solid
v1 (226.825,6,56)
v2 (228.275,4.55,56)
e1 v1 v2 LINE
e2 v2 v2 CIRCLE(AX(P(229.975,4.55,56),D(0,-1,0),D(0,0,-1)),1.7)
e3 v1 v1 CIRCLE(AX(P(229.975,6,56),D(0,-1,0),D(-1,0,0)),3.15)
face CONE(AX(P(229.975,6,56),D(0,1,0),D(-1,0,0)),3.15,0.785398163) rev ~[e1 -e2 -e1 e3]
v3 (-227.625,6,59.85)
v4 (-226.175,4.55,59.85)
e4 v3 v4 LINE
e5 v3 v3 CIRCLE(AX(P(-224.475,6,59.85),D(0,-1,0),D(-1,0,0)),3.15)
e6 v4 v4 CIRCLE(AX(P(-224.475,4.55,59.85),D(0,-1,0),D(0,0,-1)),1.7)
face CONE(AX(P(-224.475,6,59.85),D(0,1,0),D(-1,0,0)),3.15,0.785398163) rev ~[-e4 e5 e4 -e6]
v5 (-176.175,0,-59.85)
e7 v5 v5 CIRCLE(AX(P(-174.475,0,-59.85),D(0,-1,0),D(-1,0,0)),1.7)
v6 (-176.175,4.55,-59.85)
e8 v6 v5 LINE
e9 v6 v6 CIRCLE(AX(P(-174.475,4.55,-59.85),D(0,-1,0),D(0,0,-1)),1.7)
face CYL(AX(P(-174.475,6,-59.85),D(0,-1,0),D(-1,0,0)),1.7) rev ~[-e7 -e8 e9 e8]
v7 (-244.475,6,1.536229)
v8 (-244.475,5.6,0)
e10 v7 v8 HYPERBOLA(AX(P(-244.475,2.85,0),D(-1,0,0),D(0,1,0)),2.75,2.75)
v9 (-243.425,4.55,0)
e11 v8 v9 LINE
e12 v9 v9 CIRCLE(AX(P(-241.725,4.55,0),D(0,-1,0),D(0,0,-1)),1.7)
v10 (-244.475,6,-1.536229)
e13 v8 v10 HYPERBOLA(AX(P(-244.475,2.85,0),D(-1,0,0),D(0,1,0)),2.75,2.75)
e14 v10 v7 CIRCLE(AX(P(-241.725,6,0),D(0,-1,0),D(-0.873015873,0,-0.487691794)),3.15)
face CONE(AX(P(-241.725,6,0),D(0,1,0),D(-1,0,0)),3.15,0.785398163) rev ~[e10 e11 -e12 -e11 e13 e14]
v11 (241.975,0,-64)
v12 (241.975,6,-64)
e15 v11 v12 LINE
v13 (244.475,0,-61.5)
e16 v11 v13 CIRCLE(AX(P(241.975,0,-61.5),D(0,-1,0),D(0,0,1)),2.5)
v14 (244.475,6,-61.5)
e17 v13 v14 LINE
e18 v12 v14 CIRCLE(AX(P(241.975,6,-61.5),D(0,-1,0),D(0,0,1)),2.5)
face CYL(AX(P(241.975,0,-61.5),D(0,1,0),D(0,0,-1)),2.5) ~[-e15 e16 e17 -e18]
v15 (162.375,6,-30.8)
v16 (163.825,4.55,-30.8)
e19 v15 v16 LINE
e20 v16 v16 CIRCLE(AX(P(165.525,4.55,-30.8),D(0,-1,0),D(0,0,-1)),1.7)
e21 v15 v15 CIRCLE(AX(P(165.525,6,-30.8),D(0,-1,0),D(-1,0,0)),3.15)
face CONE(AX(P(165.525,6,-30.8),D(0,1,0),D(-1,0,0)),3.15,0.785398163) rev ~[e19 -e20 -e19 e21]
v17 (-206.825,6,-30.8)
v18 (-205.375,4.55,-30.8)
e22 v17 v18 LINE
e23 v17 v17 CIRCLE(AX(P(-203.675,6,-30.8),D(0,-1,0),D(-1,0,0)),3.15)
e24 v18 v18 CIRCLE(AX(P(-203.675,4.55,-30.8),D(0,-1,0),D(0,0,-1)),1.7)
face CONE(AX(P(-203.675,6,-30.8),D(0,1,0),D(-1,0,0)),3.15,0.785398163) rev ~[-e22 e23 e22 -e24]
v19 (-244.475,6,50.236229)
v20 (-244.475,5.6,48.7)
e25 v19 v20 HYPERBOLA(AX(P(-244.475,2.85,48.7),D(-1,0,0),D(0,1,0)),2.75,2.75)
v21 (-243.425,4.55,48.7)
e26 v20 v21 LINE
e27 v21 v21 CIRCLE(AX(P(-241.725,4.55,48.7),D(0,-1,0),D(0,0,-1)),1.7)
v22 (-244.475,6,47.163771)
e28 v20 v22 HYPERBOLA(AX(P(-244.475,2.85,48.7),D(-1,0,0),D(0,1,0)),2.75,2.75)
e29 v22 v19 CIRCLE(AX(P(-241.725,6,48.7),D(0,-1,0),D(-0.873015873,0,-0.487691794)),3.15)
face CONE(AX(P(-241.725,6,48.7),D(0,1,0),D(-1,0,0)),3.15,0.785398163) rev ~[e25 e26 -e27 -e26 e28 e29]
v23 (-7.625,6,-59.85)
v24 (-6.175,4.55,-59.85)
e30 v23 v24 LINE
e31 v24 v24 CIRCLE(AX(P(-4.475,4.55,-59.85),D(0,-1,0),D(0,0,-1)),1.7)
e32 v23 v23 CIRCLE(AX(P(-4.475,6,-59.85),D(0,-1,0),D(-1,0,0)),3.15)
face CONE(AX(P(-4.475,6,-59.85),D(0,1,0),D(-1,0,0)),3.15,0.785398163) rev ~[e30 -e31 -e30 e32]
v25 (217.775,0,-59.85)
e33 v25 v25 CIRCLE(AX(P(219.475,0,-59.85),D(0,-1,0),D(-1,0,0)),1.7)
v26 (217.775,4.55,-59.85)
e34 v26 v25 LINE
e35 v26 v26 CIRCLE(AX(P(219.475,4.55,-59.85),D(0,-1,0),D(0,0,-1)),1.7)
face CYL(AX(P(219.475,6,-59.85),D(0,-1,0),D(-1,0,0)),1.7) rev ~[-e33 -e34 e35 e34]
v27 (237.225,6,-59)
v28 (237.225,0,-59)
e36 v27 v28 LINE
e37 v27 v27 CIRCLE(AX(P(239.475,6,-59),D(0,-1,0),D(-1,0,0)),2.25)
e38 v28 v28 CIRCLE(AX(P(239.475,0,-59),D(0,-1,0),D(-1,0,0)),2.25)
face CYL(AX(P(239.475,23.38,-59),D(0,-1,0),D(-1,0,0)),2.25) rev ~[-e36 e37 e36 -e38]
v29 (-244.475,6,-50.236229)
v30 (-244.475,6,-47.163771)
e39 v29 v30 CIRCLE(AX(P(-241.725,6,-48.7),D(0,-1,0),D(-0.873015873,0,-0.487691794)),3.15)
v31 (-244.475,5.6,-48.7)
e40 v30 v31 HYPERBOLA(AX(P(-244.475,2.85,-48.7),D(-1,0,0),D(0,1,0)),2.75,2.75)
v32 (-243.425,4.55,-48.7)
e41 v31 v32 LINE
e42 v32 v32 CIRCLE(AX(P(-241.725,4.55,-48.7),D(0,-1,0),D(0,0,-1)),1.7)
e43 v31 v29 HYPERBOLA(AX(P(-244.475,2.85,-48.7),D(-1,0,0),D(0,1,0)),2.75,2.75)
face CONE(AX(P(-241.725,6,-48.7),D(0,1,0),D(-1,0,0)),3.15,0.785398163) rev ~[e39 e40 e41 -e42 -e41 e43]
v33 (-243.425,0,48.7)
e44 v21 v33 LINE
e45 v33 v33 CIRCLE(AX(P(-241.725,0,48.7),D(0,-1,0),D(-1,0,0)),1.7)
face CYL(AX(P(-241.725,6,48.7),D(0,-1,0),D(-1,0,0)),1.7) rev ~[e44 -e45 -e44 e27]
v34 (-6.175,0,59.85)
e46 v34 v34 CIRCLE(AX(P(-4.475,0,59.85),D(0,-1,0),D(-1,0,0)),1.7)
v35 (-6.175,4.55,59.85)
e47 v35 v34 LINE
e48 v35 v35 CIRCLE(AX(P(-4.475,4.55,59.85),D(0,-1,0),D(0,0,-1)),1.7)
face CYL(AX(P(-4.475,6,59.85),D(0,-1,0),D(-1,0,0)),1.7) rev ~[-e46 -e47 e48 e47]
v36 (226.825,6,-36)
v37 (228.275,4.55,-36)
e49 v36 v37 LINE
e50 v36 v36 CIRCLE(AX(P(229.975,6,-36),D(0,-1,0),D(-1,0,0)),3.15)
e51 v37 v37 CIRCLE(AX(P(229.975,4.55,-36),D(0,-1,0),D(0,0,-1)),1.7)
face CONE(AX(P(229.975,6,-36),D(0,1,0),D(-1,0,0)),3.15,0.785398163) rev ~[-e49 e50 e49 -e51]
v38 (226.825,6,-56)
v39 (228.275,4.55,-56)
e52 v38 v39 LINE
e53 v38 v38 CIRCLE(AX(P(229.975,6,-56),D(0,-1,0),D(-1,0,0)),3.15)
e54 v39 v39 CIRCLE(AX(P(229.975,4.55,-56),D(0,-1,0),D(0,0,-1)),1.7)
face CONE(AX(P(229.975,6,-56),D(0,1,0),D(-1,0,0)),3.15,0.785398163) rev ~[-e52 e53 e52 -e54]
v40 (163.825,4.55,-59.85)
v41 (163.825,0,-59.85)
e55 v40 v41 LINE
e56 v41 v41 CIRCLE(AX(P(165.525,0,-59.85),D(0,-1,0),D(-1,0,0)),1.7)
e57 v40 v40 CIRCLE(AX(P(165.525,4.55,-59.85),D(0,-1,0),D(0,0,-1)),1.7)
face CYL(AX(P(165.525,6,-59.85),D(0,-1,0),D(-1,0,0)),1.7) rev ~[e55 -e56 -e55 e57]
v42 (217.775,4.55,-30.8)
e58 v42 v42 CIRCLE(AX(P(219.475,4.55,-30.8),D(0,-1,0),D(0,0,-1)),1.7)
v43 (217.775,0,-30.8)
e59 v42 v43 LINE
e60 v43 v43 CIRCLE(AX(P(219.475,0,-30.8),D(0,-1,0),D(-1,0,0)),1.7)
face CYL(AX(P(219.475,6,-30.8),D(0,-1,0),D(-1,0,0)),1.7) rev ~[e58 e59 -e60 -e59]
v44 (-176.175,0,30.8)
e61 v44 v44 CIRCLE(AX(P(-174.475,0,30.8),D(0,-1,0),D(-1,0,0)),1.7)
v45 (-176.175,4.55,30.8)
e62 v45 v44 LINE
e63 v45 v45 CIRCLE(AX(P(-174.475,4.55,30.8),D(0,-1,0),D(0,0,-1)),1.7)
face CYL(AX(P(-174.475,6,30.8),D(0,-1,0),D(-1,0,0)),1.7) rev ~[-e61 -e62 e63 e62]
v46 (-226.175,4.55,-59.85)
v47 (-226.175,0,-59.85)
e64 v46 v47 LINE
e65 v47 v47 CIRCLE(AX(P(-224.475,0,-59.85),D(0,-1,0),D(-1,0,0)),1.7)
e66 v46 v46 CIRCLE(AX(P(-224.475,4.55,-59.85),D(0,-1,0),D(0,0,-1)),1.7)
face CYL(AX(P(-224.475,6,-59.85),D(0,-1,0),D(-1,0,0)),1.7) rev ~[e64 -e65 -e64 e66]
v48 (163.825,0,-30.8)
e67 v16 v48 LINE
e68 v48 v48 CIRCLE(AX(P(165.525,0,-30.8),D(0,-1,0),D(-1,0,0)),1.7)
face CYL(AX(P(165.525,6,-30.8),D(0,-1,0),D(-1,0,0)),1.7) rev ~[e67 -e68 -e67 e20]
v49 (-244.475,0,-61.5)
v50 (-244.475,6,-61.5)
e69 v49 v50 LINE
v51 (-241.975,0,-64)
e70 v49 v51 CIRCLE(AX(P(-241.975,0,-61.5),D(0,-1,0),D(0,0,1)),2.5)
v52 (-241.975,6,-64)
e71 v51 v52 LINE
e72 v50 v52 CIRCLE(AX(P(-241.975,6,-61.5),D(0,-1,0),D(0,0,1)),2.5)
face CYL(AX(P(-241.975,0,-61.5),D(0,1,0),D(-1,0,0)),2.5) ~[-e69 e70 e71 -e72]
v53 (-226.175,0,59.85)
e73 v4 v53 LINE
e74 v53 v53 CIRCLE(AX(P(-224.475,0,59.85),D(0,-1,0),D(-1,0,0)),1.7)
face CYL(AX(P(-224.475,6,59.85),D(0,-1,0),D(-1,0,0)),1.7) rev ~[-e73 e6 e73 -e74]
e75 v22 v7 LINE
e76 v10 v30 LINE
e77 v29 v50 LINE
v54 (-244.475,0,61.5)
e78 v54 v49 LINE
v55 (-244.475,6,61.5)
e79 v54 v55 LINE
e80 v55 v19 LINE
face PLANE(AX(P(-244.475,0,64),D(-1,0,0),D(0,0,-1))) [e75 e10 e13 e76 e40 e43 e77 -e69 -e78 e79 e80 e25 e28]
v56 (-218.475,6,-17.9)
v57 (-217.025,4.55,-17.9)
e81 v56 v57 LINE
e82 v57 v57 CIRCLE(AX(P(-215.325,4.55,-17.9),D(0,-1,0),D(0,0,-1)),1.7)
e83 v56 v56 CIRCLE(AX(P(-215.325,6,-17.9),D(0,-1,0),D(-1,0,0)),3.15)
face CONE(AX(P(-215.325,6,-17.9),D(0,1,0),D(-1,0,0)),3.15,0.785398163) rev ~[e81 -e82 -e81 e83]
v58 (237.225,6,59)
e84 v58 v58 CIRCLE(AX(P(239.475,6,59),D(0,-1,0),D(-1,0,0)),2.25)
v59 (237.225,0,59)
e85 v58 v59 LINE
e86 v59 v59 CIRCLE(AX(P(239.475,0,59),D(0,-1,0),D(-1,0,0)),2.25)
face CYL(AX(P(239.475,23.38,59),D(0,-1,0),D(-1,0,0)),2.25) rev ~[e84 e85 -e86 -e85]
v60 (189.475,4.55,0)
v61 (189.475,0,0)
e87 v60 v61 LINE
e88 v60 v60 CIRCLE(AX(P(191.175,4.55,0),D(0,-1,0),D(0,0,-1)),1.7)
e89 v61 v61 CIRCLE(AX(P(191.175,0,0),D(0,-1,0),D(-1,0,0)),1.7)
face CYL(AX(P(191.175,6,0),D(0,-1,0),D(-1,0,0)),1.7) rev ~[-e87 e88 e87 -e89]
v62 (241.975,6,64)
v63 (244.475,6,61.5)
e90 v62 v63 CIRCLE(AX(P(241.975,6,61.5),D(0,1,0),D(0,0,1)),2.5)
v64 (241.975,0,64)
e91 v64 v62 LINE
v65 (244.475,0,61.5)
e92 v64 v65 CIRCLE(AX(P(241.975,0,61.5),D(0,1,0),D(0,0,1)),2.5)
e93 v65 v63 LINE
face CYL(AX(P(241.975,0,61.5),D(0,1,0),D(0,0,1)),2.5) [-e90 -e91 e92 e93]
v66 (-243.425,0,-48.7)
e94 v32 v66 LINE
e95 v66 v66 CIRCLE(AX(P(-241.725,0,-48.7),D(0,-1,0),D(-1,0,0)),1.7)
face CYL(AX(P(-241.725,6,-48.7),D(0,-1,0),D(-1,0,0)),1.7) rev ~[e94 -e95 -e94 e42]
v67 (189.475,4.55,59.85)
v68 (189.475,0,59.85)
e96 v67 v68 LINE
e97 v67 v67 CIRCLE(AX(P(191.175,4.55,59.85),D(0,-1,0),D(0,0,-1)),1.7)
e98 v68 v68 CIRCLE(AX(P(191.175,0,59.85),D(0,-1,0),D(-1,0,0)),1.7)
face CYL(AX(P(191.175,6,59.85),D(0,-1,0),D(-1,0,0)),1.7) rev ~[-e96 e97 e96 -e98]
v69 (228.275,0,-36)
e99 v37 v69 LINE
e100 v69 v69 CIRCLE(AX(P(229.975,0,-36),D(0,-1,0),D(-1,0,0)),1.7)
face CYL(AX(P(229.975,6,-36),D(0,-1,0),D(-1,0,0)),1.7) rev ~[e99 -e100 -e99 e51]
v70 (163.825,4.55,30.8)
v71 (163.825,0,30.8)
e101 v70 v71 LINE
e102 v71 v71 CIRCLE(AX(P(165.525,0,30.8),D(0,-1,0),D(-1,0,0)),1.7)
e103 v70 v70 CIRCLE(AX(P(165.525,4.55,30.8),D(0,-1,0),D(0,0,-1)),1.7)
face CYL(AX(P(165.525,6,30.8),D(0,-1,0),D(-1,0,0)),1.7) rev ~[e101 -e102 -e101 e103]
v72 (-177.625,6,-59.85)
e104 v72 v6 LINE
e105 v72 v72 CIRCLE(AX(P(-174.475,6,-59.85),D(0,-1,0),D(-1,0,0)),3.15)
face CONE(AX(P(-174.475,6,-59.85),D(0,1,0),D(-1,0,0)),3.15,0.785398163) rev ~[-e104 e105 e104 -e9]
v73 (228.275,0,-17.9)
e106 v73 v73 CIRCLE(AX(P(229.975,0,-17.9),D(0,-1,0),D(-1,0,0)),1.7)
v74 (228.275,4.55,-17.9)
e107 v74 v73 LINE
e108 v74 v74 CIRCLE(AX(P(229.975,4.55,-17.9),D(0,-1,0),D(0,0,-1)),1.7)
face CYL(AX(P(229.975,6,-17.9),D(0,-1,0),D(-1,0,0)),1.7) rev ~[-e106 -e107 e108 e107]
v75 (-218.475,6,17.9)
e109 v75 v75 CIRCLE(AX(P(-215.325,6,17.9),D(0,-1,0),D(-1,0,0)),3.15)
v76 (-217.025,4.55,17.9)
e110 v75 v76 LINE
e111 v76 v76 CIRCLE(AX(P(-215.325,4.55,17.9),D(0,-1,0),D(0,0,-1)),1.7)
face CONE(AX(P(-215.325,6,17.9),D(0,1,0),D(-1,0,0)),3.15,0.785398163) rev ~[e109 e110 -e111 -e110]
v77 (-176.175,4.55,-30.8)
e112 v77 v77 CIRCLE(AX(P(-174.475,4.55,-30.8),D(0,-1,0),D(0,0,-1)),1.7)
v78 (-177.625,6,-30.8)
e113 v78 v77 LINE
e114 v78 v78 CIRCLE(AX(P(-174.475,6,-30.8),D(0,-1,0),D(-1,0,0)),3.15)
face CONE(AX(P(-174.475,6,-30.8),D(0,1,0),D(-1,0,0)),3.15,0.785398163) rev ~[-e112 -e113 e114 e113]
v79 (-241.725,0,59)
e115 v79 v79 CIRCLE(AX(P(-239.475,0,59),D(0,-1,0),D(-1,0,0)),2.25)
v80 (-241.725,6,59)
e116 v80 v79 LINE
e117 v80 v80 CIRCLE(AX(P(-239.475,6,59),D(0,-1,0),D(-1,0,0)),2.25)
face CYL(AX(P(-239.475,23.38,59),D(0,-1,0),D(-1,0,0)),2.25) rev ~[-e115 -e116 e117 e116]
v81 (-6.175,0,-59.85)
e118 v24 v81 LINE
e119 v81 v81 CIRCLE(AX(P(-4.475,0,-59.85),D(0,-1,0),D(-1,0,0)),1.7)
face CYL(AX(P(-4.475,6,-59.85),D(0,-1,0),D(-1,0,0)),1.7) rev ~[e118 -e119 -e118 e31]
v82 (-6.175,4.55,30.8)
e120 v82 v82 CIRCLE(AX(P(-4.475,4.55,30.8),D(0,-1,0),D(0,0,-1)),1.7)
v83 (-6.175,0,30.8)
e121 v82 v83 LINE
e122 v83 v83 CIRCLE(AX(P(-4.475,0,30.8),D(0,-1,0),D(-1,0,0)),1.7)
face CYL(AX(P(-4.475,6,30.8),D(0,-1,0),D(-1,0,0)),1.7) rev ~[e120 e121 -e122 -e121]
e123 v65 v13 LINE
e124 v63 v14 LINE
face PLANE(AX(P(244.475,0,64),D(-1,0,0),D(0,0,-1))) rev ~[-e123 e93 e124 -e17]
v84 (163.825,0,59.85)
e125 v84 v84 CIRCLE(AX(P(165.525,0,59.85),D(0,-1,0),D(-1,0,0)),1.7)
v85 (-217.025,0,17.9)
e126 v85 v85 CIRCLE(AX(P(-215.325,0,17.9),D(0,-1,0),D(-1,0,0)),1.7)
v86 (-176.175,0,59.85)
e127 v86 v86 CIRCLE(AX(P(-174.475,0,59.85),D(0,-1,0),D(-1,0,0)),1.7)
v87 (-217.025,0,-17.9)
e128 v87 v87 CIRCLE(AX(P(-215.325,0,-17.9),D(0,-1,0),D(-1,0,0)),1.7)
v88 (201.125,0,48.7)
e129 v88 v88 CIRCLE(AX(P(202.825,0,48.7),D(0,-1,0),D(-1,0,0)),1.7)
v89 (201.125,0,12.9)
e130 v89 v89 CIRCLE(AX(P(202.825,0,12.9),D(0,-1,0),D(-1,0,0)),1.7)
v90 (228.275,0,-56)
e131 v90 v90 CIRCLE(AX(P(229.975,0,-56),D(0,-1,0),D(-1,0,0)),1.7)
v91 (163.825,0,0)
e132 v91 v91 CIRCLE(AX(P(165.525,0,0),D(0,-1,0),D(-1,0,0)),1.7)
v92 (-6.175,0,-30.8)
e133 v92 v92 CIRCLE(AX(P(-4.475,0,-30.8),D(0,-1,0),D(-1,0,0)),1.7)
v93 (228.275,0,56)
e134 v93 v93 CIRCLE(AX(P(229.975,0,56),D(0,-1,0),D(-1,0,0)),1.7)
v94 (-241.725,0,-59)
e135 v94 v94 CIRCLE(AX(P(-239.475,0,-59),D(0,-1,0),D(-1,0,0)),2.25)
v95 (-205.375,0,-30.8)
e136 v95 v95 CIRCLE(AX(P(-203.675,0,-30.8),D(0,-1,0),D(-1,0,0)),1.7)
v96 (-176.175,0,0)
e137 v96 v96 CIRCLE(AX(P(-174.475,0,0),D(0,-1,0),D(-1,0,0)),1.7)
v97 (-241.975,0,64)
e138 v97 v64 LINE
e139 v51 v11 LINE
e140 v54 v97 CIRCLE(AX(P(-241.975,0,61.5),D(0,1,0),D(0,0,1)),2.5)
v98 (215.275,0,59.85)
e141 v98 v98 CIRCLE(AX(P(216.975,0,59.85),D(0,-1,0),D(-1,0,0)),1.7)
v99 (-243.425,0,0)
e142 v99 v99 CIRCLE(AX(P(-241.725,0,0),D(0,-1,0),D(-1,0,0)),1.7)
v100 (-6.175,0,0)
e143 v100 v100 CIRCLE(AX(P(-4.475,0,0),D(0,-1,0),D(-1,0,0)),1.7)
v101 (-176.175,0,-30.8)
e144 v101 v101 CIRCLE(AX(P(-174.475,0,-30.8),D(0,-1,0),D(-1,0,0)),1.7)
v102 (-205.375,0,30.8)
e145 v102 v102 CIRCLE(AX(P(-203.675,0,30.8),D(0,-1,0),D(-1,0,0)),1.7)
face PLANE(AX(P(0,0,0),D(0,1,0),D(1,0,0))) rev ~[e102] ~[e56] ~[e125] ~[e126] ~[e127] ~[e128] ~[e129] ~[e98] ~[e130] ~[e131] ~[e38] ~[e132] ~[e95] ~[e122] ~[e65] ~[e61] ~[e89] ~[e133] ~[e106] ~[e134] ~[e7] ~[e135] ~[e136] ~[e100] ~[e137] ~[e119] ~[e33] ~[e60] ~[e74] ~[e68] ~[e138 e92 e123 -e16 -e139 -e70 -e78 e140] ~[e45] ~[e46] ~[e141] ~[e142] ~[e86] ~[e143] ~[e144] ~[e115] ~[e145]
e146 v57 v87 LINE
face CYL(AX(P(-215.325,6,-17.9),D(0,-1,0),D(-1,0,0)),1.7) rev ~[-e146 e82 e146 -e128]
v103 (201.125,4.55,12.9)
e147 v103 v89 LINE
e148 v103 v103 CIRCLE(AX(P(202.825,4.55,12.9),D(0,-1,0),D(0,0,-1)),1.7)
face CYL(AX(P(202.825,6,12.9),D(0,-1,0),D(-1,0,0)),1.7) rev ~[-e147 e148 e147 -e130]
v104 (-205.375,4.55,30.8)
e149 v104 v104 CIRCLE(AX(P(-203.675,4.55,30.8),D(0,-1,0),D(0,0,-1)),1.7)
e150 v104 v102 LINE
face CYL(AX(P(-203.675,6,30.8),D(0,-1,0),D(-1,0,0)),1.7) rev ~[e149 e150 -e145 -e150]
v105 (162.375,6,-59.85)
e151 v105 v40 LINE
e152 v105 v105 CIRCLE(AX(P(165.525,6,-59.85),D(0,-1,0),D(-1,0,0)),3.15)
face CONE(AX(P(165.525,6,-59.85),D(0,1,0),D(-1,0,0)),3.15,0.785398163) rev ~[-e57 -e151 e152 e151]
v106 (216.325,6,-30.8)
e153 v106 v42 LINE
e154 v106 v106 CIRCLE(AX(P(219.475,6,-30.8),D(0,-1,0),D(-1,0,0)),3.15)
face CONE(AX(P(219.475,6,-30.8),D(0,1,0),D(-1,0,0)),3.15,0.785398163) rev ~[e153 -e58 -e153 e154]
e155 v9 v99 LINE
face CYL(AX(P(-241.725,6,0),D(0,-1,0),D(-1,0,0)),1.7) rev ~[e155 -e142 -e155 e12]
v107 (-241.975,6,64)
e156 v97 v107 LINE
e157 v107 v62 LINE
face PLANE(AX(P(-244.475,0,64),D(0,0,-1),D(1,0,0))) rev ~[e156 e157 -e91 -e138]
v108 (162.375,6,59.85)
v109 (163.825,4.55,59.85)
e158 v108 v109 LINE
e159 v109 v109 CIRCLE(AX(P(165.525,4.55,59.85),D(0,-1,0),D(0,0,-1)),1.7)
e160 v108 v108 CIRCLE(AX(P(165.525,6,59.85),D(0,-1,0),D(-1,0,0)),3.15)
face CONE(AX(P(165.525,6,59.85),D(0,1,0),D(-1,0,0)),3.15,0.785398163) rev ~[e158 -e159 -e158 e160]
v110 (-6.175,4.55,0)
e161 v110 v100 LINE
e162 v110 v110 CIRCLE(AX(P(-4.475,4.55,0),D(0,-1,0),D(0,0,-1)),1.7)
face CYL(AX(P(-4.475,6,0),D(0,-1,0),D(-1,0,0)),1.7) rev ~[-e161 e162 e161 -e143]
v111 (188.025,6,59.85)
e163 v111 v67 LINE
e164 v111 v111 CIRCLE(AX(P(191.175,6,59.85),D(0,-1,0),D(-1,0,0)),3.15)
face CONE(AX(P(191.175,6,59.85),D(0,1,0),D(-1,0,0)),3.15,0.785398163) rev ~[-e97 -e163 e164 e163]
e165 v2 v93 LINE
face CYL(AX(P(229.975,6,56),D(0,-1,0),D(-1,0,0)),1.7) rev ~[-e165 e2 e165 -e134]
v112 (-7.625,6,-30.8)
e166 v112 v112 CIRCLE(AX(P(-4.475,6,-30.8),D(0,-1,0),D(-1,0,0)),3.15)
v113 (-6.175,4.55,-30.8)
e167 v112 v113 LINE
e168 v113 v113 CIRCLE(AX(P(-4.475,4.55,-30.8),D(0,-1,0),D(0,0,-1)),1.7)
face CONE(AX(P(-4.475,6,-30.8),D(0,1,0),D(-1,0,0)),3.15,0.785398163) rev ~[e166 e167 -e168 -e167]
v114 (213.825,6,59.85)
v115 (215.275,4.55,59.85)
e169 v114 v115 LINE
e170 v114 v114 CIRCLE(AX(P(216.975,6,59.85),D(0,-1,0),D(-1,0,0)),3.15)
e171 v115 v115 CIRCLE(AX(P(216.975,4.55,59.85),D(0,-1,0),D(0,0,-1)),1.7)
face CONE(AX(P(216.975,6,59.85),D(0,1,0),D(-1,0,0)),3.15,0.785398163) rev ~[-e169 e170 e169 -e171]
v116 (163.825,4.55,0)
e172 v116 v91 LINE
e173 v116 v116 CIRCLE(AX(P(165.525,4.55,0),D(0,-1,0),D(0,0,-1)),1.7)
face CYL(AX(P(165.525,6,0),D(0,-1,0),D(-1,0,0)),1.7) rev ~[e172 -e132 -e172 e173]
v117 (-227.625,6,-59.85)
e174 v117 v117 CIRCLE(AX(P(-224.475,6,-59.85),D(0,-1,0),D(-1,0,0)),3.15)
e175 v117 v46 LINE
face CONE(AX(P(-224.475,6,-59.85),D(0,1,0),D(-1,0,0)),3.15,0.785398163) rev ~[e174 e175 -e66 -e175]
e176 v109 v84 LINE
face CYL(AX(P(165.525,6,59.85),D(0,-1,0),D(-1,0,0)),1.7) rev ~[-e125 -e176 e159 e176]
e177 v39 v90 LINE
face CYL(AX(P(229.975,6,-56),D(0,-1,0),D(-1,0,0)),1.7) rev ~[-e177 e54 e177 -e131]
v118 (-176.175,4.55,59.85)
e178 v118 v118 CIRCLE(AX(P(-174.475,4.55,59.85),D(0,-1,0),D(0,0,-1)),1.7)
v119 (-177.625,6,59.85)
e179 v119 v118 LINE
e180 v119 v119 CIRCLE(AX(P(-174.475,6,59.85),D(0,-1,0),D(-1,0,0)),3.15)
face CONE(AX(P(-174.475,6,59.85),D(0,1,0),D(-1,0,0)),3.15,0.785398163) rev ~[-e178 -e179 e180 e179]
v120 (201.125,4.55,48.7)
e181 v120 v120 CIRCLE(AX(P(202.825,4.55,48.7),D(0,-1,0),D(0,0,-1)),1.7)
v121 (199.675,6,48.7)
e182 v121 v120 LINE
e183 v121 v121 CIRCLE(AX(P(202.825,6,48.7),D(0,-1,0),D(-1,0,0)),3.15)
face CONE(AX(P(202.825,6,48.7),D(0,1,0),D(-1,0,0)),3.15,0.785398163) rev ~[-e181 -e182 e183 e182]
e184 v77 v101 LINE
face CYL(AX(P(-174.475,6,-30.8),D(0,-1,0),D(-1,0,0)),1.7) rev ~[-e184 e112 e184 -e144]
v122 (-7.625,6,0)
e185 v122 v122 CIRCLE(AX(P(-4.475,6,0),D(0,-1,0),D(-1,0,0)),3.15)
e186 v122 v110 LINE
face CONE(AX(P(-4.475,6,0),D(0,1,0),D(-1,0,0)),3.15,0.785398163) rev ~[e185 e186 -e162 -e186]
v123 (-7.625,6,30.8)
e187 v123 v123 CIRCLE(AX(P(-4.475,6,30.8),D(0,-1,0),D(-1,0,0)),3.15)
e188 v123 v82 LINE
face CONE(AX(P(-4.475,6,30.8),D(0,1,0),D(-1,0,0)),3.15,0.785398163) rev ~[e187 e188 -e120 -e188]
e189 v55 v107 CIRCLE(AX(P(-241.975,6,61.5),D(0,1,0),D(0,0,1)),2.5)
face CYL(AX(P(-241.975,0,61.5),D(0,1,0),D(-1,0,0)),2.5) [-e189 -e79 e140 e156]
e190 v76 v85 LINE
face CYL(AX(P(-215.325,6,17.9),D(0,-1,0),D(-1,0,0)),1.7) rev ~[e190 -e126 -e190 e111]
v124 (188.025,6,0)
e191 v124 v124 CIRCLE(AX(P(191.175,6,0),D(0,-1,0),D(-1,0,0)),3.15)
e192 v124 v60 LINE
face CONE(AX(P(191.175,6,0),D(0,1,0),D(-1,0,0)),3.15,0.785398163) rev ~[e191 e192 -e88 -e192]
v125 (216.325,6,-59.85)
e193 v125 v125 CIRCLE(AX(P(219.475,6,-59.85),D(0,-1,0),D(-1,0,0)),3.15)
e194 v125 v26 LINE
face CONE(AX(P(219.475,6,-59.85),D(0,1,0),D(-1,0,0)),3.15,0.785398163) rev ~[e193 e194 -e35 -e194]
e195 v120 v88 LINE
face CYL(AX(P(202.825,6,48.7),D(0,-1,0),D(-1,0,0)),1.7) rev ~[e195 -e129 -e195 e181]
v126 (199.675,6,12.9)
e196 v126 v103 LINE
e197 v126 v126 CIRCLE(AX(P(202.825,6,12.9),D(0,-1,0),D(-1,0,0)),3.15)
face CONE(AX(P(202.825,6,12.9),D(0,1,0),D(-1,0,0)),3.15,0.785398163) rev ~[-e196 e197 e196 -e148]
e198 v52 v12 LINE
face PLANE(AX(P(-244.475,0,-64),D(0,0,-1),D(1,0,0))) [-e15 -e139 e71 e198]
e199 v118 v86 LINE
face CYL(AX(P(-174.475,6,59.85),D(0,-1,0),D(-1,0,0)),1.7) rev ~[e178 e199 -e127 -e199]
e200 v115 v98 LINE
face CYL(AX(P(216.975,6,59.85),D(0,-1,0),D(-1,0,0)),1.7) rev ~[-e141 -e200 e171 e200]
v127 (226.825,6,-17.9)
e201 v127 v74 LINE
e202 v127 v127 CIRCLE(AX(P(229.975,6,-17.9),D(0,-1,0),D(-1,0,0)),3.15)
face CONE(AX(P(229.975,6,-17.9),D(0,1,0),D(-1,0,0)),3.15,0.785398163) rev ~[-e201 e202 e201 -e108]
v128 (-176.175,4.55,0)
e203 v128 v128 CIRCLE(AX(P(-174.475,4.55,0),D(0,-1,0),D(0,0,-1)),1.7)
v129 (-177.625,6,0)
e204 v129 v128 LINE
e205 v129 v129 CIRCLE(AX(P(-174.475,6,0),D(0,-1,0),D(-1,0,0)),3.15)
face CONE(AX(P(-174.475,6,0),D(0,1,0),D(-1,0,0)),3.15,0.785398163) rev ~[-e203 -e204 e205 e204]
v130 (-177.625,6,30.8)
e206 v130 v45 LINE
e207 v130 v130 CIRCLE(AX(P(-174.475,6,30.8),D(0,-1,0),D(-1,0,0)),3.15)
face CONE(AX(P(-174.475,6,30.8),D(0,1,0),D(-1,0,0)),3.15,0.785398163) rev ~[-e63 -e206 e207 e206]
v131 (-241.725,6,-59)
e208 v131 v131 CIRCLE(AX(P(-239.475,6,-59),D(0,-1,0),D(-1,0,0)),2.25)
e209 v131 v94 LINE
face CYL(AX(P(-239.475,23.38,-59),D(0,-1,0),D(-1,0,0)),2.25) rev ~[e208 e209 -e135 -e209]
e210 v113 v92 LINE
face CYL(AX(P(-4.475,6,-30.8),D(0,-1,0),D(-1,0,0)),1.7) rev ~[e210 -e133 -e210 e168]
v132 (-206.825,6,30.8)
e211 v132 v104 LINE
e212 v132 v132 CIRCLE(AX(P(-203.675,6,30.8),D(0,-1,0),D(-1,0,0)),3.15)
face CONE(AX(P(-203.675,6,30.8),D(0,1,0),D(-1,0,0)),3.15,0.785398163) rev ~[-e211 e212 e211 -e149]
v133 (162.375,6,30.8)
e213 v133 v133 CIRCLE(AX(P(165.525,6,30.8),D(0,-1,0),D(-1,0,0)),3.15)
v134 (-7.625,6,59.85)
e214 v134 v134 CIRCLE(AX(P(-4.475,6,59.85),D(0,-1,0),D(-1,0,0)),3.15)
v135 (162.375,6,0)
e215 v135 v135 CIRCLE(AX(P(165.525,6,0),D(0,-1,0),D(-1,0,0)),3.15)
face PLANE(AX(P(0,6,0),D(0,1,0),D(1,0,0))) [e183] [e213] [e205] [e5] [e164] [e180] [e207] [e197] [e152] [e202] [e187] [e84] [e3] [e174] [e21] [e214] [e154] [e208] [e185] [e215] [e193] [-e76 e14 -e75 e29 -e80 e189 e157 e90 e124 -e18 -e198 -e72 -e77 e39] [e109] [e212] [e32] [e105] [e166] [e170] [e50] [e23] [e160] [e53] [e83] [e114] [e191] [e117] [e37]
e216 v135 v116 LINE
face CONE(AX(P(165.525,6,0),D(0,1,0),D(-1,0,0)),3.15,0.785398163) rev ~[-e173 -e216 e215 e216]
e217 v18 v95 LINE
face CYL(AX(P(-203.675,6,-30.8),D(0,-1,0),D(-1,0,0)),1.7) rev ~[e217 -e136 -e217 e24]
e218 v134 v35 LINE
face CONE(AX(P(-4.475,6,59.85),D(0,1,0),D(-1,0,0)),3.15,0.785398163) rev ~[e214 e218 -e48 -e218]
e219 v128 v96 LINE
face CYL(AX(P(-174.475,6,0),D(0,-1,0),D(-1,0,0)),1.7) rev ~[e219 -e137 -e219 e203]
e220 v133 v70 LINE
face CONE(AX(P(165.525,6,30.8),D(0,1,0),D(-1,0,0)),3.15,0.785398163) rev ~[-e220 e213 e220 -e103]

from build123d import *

# Parameters (mm, degrees)
SKETCH1_W                                       = 488.95
SKETCH1_H                                       = 128
BOSS_EXTRUDE1_DEPTH                             = 6
M4_CLEARANCE_HOLE1_D                            = 4.5
M4_CLEARANCE_HOLE1_DEPTH                        = 17.38
M4_CLEARANCE_HOLE1_TIP                          = 1.351936393
FILLET1_R                                       = 2.5
CSK_FOR_M3_FLAT_HEAD_MACHINE_SCREW1_D           = 3.4
CSK_FOR_M3_FLAT_HEAD_MACHINE_SCREW1_DEPTH       = 10
CSK_FOR_M3_FLAT_HEAD_MACHINE_SCREW1_CSINK_D     = 6.3
CSK_FOR_M3_FLAT_HEAD_MACHINE_SCREW1_CSINK_ANGLE = 90
CSK_FOR_M3_FLAT_HEAD_MACHINE_SCREW1_TIP         = 1.021463052


with BuildPart() as part:
    # Sketch1 → Boss-Extrude1 (new body)
    with BuildSketch(Plane(origin=(0, 0, 0), x_dir=(1, 0, 0), z_dir=(0, 1, 0))):
        Rectangle(SKETCH1_W, SKETCH1_H)
    extrude(amount=BOSS_EXTRUDE1_DEPTH)

    # M4 Clearance Hole1
    with Locations(Plane(origin=(0, 6, 0), x_dir=(1, 0, 0), z_dir=(0, 1, 0))):
        with Locations((-239.475, 59), (-239.475, -59), (239.475, -59), (239.475, 59)):
            Hole(M4_CLEARANCE_HOLE1_D / 2, depth=M4_CLEARANCE_HOLE1_DEPTH)
            with Locations((0, 0, -(M4_CLEARANCE_HOLE1_DEPTH + M4_CLEARANCE_HOLE1_TIP / 2))):  # 118° drill point
                Cone(0, M4_CLEARANCE_HOLE1_D / 2, M4_CLEARANCE_HOLE1_TIP, mode=Mode.SUBTRACT)

    # Fillet1
    fillet1_edges = [part.edges().sort_by_distance(p)[0] for p in [
        (244.475, 3, 64),
        (-244.475, 3, 64),
        (-244.475, 3, -64),
        (244.475, 3, -64),
    ]]
    fillet(fillet1_edges, radius=FILLET1_R)

    # CSK for M3 Flat Head Machine Screw1
    with Locations(Plane(origin=(0, 6, 0), x_dir=(1, 0, 0), z_dir=(0, 1, 0))):
        with Locations((-241.725, 0), (-241.725, -48.7), (-224.475, -59.85), (-174.475, -59.85), (-203.675, -30.8), (-215.325, -17.9), (-215.325, 17.9), (-203.675, 30.8), (-224.475, 59.85), (-241.725, 48.7), (-4.475, -59.85), (165.525, -59.85), (202.825, -48.7), (191.175, -59.85), (216.975, -59.85), (229.975, -56), (-174.475, 0), (-174.475, 30.8), (-174.475, -30.8), (-174.475, 59.85), (-4.475, 59.85), (165.525, 59.85), (229.975, 36), (219.475, 59.85), (229.975, 56), (165.525, 30.8), (191.175, 0), (202.825, -12.9), (165.525, 0), (229.975, 17.9), (219.475, 30.8), (165.525, -30.8), (-4.475, 30.8), (-4.475, 0), (-4.475, -30.8)):
            CounterSinkHole(CSK_FOR_M3_FLAT_HEAD_MACHINE_SCREW1_D / 2, CSK_FOR_M3_FLAT_HEAD_MACHINE_SCREW1_CSINK_D / 2, depth=CSK_FOR_M3_FLAT_HEAD_MACHINE_SCREW1_DEPTH, counter_sink_angle=CSK_FOR_M3_FLAT_HEAD_MACHINE_SCREW1_CSINK_ANGLE)
            with Locations((0, 0, -(CSK_FOR_M3_FLAT_HEAD_MACHINE_SCREW1_DEPTH + CSK_FOR_M3_FLAT_HEAD_MACHINE_SCREW1_TIP / 2))):  # 118° drill point
                Cone(0, CSK_FOR_M3_FLAT_HEAD_MACHINE_SCREW1_D / 2, CSK_FOR_M3_FLAT_HEAD_MACHINE_SCREW1_TIP, mode=Mode.SUBTRACT)


solid = part.part
